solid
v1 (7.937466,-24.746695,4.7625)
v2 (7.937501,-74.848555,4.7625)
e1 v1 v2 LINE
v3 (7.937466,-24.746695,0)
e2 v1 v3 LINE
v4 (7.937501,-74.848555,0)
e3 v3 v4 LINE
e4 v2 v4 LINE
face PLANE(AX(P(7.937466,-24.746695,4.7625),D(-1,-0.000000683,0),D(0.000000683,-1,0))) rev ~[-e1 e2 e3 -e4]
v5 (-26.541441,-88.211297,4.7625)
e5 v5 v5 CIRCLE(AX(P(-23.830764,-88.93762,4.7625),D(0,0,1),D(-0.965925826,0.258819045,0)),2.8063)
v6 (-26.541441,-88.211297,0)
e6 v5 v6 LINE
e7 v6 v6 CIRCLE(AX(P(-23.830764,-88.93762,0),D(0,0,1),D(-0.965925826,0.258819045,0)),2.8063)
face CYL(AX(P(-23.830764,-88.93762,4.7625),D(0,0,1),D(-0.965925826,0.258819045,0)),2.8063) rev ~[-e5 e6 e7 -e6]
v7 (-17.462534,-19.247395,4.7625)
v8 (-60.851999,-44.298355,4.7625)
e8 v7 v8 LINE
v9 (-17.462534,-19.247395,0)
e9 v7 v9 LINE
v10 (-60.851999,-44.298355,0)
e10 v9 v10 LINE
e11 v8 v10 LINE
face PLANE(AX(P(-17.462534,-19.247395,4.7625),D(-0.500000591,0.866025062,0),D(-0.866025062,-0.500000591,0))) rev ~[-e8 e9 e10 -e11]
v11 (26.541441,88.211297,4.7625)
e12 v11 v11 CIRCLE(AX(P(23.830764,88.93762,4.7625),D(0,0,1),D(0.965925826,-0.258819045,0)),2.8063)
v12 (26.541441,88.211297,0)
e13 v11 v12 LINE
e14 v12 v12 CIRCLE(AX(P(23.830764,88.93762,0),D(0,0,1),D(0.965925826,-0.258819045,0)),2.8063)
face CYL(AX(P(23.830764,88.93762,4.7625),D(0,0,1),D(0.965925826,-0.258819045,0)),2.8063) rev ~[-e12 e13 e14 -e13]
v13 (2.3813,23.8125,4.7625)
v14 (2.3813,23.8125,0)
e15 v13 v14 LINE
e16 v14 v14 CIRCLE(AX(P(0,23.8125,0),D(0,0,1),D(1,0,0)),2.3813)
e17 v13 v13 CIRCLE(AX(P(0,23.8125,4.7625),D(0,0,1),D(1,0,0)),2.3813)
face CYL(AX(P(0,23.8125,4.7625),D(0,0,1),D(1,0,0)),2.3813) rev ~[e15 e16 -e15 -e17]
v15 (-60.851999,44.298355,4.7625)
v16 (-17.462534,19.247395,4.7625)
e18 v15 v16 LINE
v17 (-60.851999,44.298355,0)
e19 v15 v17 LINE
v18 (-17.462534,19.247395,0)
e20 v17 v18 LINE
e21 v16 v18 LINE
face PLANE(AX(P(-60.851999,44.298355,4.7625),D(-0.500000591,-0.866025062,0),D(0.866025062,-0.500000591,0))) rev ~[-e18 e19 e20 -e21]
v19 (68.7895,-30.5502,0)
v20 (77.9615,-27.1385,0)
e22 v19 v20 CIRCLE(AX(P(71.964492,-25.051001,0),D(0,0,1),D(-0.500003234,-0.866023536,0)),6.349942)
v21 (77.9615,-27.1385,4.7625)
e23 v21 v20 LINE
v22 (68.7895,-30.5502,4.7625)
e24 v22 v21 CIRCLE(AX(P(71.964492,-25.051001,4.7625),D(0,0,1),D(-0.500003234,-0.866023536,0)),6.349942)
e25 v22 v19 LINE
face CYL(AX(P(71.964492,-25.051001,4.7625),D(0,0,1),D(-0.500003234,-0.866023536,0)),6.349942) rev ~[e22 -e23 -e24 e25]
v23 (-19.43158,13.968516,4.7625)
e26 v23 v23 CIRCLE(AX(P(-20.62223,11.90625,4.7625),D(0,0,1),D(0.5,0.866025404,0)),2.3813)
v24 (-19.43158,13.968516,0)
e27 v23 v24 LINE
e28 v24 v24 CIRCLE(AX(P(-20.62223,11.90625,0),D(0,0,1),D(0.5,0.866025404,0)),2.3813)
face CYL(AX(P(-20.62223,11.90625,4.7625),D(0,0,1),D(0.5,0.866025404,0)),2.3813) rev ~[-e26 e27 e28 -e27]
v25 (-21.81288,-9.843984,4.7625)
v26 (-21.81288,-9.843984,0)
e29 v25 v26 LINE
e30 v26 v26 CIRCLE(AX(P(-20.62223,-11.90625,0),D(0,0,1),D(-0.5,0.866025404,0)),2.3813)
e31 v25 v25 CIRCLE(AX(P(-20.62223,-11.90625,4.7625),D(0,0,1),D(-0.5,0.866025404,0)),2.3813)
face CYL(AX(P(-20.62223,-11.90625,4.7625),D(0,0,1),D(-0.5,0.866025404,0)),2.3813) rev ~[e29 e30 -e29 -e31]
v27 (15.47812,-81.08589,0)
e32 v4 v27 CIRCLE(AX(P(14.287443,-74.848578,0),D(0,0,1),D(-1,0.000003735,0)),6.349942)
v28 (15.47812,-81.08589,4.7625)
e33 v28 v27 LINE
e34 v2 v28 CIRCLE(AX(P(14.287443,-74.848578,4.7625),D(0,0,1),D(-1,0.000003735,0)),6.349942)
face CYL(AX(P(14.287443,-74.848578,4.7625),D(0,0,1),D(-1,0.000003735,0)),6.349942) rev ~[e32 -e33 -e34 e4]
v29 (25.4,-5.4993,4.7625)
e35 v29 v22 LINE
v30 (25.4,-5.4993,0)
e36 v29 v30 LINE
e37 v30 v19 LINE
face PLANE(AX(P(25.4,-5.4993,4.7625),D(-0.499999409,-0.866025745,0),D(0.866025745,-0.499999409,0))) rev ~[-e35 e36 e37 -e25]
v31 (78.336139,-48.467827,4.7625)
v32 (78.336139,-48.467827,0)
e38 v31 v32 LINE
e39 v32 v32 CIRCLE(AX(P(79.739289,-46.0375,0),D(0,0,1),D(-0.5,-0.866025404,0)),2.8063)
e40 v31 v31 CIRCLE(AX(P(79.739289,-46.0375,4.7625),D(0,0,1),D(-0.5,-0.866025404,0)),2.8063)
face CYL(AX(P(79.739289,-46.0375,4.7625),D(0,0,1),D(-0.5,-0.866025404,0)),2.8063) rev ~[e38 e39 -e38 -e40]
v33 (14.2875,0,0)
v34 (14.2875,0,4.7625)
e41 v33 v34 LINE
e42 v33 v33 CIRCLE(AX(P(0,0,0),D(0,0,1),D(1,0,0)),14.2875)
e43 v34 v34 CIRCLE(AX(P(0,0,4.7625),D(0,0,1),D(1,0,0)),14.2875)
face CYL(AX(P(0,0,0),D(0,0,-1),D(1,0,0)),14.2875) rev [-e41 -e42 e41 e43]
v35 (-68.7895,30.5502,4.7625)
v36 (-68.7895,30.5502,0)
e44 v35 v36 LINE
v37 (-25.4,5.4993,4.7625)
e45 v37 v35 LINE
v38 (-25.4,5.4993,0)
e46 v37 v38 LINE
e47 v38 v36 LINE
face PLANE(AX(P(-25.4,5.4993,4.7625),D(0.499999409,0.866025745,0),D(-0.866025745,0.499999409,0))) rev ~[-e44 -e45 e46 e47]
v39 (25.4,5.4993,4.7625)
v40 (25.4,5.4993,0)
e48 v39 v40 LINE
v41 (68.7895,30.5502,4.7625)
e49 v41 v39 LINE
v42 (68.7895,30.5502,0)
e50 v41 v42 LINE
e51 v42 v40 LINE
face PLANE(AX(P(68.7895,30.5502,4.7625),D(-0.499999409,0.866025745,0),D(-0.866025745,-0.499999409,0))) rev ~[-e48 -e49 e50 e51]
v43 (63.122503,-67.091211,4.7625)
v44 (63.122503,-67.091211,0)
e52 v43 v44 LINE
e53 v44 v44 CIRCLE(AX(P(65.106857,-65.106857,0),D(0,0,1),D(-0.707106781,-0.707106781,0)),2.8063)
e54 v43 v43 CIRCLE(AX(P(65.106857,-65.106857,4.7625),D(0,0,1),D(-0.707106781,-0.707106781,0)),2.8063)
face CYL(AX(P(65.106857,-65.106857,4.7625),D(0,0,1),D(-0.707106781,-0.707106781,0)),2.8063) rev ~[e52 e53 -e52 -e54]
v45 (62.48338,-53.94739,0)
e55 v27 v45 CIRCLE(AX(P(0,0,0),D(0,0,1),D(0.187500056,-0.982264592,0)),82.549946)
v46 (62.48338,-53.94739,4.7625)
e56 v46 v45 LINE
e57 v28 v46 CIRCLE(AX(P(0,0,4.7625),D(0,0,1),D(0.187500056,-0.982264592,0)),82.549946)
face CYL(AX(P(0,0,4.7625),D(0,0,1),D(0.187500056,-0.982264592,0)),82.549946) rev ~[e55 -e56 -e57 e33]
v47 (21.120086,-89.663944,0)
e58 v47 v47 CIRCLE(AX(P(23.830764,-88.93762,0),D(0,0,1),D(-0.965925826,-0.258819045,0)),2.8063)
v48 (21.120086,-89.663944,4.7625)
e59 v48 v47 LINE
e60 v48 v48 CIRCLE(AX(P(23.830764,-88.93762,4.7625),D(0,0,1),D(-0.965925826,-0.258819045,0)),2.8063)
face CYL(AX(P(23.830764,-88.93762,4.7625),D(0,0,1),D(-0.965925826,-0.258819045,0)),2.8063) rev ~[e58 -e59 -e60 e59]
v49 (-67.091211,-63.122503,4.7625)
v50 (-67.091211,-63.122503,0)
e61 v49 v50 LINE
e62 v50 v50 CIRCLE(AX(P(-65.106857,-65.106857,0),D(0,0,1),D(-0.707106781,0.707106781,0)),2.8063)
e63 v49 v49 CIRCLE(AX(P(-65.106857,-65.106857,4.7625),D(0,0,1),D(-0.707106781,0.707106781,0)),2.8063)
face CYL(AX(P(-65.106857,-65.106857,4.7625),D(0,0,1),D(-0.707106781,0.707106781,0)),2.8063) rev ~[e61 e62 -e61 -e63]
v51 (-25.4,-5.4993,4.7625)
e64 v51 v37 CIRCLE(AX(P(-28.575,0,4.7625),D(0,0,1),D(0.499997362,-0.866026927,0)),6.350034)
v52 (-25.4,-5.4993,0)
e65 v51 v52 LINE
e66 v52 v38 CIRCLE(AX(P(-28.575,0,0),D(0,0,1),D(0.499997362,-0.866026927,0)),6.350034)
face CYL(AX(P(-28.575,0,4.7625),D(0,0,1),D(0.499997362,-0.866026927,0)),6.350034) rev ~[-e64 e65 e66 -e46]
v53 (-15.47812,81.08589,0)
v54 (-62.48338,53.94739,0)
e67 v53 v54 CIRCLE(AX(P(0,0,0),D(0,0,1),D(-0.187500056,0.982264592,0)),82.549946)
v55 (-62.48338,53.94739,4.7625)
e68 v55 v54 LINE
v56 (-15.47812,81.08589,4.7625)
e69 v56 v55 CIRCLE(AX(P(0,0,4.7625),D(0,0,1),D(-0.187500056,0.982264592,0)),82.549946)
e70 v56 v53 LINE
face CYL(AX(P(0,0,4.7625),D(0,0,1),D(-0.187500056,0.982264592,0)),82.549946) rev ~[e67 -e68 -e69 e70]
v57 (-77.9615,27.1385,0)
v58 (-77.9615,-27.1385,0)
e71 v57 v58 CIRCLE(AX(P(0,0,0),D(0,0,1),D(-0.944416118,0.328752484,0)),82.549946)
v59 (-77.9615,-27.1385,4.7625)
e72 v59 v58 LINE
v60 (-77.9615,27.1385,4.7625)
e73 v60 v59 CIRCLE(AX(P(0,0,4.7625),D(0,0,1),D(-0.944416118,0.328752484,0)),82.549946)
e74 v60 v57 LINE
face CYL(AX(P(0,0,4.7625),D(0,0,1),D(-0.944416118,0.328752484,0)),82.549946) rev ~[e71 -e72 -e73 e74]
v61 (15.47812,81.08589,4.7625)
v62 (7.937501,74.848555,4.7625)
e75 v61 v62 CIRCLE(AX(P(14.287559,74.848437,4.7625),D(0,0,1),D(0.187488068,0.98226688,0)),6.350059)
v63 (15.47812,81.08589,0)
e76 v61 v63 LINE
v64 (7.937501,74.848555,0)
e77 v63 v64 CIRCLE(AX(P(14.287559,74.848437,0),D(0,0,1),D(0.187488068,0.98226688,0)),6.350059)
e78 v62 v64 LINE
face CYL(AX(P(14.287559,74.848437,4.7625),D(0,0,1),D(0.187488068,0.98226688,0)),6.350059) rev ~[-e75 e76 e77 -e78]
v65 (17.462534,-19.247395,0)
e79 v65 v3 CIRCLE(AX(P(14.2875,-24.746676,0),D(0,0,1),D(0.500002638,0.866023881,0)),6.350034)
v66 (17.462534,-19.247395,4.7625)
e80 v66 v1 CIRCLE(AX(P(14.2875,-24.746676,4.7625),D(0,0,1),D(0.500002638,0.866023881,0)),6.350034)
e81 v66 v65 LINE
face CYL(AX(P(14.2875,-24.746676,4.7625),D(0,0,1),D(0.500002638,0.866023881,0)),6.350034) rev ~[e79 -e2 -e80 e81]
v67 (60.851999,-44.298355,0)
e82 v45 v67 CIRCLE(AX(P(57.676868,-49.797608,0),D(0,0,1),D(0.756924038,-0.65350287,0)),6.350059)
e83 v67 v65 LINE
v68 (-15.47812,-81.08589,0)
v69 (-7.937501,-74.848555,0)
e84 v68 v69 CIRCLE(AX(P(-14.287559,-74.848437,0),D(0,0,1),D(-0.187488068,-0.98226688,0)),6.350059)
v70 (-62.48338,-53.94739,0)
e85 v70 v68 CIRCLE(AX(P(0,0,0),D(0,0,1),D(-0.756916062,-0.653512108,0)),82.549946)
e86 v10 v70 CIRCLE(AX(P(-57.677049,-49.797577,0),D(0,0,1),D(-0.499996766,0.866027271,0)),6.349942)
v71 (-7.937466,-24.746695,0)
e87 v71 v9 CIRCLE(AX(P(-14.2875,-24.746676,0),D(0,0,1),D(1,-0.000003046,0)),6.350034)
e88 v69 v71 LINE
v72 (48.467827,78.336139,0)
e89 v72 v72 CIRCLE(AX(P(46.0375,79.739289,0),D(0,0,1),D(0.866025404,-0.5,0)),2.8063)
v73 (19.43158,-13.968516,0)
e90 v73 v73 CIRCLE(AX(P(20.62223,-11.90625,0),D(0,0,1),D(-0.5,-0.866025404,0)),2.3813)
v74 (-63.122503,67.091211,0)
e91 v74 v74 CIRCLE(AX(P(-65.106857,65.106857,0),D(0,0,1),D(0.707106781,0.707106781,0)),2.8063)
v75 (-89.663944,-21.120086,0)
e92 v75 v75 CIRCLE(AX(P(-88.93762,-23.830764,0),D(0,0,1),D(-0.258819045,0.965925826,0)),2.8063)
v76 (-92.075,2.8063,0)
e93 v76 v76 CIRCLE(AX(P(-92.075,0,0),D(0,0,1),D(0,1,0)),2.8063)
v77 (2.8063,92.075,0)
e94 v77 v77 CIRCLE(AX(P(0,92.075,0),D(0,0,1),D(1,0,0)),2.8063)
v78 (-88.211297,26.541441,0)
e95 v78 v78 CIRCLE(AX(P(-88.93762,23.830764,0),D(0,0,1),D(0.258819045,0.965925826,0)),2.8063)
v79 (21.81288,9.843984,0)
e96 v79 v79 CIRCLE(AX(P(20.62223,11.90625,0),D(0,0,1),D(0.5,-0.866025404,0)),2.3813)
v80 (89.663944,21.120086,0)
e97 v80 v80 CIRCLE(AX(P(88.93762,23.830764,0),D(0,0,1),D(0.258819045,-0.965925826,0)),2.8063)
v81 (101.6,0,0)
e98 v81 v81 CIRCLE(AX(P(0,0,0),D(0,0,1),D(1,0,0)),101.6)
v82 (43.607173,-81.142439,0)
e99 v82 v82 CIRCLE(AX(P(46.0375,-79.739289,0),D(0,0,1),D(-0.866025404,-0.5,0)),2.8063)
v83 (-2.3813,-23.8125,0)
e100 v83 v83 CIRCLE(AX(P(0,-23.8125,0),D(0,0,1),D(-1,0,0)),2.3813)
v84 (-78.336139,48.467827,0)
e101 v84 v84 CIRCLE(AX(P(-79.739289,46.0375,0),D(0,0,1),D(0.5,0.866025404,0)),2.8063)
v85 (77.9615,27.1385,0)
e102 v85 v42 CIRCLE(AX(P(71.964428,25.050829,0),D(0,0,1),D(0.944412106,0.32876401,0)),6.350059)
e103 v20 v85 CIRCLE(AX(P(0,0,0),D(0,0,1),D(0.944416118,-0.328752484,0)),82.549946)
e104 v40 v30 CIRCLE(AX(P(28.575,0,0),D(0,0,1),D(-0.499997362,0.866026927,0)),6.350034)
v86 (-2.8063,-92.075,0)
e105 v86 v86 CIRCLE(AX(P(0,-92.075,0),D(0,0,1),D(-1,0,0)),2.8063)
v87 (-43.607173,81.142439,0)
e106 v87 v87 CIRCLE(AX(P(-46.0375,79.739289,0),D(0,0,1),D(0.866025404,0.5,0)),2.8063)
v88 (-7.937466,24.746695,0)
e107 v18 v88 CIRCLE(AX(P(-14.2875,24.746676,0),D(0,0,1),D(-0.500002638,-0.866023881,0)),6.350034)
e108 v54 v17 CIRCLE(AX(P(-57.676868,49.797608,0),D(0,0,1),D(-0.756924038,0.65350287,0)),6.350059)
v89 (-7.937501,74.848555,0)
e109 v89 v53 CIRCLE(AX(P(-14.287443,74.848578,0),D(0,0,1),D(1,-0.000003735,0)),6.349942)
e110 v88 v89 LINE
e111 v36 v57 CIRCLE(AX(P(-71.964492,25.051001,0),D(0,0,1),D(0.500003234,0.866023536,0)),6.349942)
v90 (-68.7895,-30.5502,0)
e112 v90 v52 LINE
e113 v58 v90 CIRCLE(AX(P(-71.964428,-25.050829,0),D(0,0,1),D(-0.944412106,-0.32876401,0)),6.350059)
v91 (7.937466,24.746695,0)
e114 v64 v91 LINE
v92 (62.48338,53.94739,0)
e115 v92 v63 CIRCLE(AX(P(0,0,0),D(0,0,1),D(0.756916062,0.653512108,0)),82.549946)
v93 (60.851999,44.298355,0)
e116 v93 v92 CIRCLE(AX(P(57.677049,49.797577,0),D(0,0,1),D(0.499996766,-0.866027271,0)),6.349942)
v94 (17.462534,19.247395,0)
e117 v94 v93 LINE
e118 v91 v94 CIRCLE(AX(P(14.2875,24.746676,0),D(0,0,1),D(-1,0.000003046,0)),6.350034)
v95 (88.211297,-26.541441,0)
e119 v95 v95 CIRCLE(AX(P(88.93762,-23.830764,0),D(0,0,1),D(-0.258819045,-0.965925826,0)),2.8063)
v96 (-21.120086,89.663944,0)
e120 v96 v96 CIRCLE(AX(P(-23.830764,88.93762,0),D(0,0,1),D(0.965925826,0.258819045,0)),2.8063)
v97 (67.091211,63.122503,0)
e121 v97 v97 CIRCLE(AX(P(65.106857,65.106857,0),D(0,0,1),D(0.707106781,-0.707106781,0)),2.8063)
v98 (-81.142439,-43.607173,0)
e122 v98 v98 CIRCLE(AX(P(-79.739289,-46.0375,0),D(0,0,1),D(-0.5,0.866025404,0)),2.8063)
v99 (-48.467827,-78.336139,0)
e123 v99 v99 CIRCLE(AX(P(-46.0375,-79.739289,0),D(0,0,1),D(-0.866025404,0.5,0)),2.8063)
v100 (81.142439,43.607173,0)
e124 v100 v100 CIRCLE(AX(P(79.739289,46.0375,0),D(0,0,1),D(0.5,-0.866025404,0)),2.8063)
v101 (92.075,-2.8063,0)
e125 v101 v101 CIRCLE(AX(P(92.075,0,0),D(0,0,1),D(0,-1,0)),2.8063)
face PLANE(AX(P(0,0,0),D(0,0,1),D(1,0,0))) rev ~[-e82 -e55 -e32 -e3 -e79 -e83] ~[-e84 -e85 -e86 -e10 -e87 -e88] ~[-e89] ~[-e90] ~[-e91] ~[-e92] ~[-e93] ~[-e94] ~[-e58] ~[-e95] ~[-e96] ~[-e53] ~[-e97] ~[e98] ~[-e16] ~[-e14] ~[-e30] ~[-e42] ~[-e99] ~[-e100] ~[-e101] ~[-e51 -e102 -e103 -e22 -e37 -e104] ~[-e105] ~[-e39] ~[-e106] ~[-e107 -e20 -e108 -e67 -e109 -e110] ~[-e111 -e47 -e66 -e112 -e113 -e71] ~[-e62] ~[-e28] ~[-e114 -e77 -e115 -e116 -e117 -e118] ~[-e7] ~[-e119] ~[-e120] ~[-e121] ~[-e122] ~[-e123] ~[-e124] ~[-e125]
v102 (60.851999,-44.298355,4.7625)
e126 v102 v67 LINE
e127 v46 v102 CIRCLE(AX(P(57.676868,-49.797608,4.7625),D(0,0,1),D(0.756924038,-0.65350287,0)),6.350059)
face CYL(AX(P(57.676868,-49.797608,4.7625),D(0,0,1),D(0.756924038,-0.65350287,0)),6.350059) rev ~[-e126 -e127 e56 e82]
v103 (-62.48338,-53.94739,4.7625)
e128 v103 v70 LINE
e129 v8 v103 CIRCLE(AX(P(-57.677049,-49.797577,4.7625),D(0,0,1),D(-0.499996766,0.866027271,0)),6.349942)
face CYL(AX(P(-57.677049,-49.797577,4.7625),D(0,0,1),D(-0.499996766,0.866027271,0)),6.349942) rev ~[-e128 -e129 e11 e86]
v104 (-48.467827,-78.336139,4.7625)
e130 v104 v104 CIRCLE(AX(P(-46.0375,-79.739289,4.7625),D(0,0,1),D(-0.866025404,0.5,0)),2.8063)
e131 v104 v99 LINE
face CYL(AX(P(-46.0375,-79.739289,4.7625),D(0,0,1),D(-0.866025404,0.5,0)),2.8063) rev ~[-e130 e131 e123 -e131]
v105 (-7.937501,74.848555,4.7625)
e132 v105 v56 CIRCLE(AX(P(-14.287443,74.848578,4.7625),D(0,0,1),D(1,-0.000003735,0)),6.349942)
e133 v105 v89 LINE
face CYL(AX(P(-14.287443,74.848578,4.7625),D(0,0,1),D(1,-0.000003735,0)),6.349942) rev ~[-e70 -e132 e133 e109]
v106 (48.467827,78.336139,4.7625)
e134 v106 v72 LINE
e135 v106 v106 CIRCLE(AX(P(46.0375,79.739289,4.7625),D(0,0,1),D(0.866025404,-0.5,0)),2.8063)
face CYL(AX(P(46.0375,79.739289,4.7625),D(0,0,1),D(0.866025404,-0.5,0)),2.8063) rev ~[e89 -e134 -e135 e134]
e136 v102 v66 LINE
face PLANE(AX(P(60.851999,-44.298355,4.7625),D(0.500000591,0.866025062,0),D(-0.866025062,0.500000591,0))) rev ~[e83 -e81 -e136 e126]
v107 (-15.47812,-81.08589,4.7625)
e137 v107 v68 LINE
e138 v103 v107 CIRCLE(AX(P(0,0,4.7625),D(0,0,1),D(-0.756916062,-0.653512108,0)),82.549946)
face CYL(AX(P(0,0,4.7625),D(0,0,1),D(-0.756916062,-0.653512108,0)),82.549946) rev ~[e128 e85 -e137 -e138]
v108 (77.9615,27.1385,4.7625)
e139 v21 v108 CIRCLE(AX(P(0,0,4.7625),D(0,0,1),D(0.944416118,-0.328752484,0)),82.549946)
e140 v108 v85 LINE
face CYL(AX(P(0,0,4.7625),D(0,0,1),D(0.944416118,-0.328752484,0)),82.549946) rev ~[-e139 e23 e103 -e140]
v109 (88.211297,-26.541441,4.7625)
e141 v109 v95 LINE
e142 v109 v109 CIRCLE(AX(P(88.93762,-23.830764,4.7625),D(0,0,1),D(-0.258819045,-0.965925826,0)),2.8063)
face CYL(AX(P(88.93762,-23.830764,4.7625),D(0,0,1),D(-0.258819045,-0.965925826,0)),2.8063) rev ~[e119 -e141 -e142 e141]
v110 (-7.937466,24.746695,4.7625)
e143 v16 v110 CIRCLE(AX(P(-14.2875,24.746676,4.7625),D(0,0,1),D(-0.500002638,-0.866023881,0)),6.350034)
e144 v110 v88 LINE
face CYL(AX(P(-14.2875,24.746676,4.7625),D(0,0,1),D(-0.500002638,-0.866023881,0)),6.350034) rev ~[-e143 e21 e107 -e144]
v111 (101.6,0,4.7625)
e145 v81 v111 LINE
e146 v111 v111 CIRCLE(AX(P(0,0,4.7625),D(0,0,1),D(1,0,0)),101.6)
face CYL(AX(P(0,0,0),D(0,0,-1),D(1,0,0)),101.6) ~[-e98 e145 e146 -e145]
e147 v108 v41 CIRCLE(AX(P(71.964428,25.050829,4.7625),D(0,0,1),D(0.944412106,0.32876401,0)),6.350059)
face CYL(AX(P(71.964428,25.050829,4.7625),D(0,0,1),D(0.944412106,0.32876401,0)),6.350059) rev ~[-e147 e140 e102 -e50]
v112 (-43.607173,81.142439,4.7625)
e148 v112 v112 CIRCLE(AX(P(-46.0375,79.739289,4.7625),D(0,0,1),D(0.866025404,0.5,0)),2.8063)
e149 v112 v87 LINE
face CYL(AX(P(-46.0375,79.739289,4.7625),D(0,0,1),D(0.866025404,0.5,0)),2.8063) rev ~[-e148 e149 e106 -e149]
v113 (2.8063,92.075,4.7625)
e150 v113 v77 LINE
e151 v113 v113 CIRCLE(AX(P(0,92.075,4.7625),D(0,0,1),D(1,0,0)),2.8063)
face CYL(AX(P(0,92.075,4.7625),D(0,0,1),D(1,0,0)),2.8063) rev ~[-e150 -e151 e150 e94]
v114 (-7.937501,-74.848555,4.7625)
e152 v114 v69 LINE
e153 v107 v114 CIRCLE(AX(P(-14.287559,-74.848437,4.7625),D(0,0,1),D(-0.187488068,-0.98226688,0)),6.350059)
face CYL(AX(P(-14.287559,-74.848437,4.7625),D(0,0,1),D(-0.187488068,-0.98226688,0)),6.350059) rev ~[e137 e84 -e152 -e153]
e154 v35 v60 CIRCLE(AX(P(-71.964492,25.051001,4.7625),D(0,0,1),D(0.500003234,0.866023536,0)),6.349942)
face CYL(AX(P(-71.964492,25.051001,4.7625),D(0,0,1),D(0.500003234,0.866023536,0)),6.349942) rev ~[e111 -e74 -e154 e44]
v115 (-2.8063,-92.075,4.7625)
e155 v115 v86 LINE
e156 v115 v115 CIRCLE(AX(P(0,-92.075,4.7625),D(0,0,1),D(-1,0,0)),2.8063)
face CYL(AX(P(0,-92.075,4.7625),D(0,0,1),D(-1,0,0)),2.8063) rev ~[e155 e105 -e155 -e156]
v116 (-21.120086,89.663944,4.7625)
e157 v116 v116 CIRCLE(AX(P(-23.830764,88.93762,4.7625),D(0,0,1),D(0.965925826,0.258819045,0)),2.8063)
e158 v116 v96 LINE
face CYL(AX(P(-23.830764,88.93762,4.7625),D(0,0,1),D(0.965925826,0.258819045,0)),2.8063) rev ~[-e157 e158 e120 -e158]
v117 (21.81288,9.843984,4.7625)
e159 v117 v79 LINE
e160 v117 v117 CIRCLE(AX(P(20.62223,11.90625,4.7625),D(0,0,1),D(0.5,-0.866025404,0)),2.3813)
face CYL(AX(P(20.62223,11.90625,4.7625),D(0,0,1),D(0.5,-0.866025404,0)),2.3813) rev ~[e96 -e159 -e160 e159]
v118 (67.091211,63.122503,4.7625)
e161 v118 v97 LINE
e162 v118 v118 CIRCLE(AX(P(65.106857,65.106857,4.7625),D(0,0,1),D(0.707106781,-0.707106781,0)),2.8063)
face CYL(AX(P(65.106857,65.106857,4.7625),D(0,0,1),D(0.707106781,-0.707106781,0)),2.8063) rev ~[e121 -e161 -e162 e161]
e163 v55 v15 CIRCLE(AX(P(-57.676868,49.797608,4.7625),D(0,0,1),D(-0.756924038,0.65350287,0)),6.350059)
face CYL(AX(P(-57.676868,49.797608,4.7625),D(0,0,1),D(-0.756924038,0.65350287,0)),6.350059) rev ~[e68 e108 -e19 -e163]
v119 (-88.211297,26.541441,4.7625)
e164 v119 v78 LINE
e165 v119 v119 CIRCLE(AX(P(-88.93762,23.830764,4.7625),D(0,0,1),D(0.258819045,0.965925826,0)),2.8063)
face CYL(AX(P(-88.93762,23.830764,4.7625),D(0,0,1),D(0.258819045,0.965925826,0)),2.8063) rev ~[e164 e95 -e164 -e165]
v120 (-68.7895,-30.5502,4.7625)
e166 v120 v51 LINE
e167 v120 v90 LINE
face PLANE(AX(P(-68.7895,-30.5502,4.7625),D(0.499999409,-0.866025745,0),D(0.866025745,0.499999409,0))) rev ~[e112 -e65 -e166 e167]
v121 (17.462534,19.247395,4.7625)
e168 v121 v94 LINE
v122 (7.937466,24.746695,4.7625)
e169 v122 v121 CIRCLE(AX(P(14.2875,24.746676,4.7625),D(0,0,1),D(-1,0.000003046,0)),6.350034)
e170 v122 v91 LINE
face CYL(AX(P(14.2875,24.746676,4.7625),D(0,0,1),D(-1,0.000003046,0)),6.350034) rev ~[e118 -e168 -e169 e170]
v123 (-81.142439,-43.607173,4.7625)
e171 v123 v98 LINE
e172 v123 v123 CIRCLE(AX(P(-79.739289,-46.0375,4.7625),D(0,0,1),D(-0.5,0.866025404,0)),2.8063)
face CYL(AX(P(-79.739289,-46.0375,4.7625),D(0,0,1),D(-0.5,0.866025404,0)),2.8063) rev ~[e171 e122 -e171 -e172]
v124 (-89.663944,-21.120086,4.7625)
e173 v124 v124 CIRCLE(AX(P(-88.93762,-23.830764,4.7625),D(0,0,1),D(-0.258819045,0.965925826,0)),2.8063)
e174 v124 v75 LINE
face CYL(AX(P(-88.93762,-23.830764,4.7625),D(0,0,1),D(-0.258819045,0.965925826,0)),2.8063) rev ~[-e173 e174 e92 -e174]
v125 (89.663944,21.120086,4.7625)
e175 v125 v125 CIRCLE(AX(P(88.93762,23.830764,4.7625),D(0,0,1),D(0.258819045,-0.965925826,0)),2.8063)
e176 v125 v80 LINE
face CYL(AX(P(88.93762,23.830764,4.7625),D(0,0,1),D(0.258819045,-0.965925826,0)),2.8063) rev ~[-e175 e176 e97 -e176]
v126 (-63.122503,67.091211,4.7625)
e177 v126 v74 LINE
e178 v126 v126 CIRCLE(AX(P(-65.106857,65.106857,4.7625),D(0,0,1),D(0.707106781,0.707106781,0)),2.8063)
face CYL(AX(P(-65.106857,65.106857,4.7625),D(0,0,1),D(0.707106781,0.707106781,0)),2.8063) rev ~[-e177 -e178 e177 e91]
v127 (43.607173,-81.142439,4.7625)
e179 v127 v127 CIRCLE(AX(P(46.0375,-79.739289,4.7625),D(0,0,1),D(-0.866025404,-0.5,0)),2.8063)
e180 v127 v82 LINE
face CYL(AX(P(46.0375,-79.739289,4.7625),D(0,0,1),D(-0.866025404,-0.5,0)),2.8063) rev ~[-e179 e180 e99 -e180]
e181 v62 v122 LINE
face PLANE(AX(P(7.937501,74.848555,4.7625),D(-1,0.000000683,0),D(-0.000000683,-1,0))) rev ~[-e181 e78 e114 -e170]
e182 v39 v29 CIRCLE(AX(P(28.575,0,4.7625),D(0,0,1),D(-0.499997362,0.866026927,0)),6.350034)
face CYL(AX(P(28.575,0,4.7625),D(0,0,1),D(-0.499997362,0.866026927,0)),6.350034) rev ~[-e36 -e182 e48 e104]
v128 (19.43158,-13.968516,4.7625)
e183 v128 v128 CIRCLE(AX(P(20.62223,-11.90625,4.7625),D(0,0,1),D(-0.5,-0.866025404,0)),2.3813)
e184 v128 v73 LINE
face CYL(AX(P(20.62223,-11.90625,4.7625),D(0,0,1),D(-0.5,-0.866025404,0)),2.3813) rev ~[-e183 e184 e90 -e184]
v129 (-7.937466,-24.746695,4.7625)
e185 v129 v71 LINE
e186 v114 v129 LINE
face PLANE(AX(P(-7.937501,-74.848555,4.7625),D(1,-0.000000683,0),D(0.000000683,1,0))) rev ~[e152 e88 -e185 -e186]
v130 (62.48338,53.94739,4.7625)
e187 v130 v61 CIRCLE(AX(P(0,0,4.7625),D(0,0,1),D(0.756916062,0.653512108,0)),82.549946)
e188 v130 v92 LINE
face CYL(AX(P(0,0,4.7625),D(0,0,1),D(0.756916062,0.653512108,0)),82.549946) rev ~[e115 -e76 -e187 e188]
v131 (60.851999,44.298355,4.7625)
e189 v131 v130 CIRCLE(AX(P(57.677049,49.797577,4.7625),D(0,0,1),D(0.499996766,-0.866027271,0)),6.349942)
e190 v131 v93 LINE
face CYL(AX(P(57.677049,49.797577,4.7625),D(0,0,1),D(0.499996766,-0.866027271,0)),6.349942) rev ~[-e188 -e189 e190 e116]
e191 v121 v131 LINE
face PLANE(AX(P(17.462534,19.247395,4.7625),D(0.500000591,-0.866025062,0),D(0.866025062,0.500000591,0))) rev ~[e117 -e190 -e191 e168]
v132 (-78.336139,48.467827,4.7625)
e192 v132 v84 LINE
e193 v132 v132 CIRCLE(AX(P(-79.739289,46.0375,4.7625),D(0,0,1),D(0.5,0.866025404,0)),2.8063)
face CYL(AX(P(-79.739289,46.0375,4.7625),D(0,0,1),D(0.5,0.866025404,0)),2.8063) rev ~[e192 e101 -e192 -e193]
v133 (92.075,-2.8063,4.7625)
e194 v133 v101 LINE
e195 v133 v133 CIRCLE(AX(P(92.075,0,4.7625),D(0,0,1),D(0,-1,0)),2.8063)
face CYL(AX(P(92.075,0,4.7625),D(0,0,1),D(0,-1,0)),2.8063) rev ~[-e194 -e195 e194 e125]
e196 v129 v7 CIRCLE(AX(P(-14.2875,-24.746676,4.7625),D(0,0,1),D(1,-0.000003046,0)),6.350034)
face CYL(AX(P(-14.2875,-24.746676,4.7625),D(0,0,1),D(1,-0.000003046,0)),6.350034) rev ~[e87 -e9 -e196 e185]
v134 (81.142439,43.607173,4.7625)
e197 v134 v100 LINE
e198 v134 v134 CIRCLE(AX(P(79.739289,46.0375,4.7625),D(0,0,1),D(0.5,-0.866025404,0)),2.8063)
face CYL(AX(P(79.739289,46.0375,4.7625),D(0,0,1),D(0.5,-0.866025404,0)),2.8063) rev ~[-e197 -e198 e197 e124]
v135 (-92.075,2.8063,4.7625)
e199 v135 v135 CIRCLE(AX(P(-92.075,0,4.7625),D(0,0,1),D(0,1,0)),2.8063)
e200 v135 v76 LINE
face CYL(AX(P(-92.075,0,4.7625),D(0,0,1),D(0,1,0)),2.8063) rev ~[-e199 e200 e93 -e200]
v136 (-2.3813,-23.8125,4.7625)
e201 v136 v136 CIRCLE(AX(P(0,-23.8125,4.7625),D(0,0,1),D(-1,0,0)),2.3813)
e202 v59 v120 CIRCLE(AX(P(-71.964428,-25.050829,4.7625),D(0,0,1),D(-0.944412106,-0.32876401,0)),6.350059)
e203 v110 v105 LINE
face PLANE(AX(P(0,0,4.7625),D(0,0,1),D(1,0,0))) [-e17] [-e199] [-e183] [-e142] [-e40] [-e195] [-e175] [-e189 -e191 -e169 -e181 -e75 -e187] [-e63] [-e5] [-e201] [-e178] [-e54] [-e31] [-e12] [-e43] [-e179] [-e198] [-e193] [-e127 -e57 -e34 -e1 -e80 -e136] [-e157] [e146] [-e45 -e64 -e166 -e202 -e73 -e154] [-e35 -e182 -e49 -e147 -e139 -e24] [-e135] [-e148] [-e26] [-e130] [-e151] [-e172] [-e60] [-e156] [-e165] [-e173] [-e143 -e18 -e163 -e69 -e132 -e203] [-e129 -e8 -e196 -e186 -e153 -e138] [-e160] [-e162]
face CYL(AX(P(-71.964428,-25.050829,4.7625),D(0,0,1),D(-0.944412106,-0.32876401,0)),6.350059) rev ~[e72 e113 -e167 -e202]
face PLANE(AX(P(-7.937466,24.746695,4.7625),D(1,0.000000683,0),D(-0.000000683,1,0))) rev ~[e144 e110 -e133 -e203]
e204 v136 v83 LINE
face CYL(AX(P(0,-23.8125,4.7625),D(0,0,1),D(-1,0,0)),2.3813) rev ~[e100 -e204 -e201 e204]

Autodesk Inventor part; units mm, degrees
ref_plane "YZ Plane" through (0, 0, 0) normal (1, 0, 0) x (0, 1, 0)
ref_plane "XZ Plane" through (0, 0, 0) normal (0, 1, 0) x (-1, 0, 0)
ref_plane "XY Plane" through (0, 0, 0) normal (0, 0, 1) x (1, 0, 0)
sketch "Sketch1" plane through (0, 0, 0) normal (0, 0, 1) x (1, 0, 0)
  circle A0 centre (0, 0) radius 101.6
  circle A1 centre (0, 0) radius 14.2875
  dimension "d0" = 203.2
  dimension "d1" = 28.575
extrude "Extrusion1" add sketch "Sketch1" along normal blind 4.7625
sketch "Sketch4" plane through (0, 0, 4.7625) normal (0, 0, 1) x (1, 0, 0)
  circle A0 centre (0, 0) radius 101.6 projected
  circle A1 centre (0, 92.075) radius 2.8063
  line L0 (0, 0) -> (0, 101.6) construction
  circle A2 centre (0, 0) radius 92.075 construction
  dimension "d58" = 9.525
extrude "Extrusion5" cut sketch "Sketch4" against normal through all contours A1
pattern_circular "Circular Pattern3" count 24 over 360 about axis through (0, 0, -10) along (0, 0, 1) of "Extrusion5"
sketch "Sketch6" plane through (0, 0, 4.7625) normal (0, 0, 1) x (1, 0, 0)
  circle A0 centre (0, 0) radius 101.6 projected
  circle A1 centre (0, 23.8125) radius 2.3813
  circle A2 centre (0, 0) radius 23.8125 construction
  line L0 (0, 23.8125) -> (0, 0) construction
  dimension "d68" = 47.625
  dimension "d69" = 4.7625
extrude "Extrusion6" cut sketch "Sketch6" against normal through all contours A1
pattern_circular "Circular Pattern4" count 6 over 360 about axis through (0, 0, -10) along (0, 0, 1) of "Extrusion6"
sketch "Sketch7" plane through (0, 0, 4.7625) normal (0, 0, 1) x (1, 0, 0)
  circle A0 centre (-20.6222, -11.9062) radius 2.3813 projected
  circle A1 centre (-20.6222, 11.9062) radius 2.3813 projected
  circle A2 centre (0, 23.8125) radius 2.3813 projected
  circle A3 centre (0, 0) radius 101.6 projected
  line L0 (0, 0) -> (0, 23.8125) construction
  line L1 (0, 23.8125) -> (0, 0) construction
  line L2 (-20.6222, 11.9062) -> (0, 0) construction
  line L3 (-20.6222, -11.9062) -> (0, 0) construction
  line L4 (-25.4, 5.4993) -> (-68.7895, 30.5502)
  line L5 (-68.7895, -30.5502) -> (-25.4, -5.4993)
  arc A4 (-77.9615, 27.1385) -> (-77.9615, -27.1385) centre (0, 0) ccw
  arc A5 (-68.7895, 30.5502) -> (-77.9615, 27.1385) centre (-71.9645, 25.0509) ccw
  arc A6 (-77.9615, -27.1385) -> (-68.7895, -30.5502) centre (-71.9645, -25.0509) ccw
  arc A7 (-25.4, -5.4993) -> (-25.4, 5.4993) centre (-28.575, 0) ccw
  point P0 (-75.1279, -34.2097)
  point P1 (-75.1279, 34.2097)
  dimension "d75" = 19.05
  dimension "d76" = 6.35
  dimension "d78" = 7.9375
extrude "Extrusion7" cut sketch "Sketch7" against normal through all contours A7 L5 A6 A4 A5 L4
pattern_circular "Circular Pattern5" count 6 over 360 about axis through (0, 0, -10) along (0, 0, 1) of "Extrusion7"
properties part number "FlyWheelBase" material "Aluminum-6061"
